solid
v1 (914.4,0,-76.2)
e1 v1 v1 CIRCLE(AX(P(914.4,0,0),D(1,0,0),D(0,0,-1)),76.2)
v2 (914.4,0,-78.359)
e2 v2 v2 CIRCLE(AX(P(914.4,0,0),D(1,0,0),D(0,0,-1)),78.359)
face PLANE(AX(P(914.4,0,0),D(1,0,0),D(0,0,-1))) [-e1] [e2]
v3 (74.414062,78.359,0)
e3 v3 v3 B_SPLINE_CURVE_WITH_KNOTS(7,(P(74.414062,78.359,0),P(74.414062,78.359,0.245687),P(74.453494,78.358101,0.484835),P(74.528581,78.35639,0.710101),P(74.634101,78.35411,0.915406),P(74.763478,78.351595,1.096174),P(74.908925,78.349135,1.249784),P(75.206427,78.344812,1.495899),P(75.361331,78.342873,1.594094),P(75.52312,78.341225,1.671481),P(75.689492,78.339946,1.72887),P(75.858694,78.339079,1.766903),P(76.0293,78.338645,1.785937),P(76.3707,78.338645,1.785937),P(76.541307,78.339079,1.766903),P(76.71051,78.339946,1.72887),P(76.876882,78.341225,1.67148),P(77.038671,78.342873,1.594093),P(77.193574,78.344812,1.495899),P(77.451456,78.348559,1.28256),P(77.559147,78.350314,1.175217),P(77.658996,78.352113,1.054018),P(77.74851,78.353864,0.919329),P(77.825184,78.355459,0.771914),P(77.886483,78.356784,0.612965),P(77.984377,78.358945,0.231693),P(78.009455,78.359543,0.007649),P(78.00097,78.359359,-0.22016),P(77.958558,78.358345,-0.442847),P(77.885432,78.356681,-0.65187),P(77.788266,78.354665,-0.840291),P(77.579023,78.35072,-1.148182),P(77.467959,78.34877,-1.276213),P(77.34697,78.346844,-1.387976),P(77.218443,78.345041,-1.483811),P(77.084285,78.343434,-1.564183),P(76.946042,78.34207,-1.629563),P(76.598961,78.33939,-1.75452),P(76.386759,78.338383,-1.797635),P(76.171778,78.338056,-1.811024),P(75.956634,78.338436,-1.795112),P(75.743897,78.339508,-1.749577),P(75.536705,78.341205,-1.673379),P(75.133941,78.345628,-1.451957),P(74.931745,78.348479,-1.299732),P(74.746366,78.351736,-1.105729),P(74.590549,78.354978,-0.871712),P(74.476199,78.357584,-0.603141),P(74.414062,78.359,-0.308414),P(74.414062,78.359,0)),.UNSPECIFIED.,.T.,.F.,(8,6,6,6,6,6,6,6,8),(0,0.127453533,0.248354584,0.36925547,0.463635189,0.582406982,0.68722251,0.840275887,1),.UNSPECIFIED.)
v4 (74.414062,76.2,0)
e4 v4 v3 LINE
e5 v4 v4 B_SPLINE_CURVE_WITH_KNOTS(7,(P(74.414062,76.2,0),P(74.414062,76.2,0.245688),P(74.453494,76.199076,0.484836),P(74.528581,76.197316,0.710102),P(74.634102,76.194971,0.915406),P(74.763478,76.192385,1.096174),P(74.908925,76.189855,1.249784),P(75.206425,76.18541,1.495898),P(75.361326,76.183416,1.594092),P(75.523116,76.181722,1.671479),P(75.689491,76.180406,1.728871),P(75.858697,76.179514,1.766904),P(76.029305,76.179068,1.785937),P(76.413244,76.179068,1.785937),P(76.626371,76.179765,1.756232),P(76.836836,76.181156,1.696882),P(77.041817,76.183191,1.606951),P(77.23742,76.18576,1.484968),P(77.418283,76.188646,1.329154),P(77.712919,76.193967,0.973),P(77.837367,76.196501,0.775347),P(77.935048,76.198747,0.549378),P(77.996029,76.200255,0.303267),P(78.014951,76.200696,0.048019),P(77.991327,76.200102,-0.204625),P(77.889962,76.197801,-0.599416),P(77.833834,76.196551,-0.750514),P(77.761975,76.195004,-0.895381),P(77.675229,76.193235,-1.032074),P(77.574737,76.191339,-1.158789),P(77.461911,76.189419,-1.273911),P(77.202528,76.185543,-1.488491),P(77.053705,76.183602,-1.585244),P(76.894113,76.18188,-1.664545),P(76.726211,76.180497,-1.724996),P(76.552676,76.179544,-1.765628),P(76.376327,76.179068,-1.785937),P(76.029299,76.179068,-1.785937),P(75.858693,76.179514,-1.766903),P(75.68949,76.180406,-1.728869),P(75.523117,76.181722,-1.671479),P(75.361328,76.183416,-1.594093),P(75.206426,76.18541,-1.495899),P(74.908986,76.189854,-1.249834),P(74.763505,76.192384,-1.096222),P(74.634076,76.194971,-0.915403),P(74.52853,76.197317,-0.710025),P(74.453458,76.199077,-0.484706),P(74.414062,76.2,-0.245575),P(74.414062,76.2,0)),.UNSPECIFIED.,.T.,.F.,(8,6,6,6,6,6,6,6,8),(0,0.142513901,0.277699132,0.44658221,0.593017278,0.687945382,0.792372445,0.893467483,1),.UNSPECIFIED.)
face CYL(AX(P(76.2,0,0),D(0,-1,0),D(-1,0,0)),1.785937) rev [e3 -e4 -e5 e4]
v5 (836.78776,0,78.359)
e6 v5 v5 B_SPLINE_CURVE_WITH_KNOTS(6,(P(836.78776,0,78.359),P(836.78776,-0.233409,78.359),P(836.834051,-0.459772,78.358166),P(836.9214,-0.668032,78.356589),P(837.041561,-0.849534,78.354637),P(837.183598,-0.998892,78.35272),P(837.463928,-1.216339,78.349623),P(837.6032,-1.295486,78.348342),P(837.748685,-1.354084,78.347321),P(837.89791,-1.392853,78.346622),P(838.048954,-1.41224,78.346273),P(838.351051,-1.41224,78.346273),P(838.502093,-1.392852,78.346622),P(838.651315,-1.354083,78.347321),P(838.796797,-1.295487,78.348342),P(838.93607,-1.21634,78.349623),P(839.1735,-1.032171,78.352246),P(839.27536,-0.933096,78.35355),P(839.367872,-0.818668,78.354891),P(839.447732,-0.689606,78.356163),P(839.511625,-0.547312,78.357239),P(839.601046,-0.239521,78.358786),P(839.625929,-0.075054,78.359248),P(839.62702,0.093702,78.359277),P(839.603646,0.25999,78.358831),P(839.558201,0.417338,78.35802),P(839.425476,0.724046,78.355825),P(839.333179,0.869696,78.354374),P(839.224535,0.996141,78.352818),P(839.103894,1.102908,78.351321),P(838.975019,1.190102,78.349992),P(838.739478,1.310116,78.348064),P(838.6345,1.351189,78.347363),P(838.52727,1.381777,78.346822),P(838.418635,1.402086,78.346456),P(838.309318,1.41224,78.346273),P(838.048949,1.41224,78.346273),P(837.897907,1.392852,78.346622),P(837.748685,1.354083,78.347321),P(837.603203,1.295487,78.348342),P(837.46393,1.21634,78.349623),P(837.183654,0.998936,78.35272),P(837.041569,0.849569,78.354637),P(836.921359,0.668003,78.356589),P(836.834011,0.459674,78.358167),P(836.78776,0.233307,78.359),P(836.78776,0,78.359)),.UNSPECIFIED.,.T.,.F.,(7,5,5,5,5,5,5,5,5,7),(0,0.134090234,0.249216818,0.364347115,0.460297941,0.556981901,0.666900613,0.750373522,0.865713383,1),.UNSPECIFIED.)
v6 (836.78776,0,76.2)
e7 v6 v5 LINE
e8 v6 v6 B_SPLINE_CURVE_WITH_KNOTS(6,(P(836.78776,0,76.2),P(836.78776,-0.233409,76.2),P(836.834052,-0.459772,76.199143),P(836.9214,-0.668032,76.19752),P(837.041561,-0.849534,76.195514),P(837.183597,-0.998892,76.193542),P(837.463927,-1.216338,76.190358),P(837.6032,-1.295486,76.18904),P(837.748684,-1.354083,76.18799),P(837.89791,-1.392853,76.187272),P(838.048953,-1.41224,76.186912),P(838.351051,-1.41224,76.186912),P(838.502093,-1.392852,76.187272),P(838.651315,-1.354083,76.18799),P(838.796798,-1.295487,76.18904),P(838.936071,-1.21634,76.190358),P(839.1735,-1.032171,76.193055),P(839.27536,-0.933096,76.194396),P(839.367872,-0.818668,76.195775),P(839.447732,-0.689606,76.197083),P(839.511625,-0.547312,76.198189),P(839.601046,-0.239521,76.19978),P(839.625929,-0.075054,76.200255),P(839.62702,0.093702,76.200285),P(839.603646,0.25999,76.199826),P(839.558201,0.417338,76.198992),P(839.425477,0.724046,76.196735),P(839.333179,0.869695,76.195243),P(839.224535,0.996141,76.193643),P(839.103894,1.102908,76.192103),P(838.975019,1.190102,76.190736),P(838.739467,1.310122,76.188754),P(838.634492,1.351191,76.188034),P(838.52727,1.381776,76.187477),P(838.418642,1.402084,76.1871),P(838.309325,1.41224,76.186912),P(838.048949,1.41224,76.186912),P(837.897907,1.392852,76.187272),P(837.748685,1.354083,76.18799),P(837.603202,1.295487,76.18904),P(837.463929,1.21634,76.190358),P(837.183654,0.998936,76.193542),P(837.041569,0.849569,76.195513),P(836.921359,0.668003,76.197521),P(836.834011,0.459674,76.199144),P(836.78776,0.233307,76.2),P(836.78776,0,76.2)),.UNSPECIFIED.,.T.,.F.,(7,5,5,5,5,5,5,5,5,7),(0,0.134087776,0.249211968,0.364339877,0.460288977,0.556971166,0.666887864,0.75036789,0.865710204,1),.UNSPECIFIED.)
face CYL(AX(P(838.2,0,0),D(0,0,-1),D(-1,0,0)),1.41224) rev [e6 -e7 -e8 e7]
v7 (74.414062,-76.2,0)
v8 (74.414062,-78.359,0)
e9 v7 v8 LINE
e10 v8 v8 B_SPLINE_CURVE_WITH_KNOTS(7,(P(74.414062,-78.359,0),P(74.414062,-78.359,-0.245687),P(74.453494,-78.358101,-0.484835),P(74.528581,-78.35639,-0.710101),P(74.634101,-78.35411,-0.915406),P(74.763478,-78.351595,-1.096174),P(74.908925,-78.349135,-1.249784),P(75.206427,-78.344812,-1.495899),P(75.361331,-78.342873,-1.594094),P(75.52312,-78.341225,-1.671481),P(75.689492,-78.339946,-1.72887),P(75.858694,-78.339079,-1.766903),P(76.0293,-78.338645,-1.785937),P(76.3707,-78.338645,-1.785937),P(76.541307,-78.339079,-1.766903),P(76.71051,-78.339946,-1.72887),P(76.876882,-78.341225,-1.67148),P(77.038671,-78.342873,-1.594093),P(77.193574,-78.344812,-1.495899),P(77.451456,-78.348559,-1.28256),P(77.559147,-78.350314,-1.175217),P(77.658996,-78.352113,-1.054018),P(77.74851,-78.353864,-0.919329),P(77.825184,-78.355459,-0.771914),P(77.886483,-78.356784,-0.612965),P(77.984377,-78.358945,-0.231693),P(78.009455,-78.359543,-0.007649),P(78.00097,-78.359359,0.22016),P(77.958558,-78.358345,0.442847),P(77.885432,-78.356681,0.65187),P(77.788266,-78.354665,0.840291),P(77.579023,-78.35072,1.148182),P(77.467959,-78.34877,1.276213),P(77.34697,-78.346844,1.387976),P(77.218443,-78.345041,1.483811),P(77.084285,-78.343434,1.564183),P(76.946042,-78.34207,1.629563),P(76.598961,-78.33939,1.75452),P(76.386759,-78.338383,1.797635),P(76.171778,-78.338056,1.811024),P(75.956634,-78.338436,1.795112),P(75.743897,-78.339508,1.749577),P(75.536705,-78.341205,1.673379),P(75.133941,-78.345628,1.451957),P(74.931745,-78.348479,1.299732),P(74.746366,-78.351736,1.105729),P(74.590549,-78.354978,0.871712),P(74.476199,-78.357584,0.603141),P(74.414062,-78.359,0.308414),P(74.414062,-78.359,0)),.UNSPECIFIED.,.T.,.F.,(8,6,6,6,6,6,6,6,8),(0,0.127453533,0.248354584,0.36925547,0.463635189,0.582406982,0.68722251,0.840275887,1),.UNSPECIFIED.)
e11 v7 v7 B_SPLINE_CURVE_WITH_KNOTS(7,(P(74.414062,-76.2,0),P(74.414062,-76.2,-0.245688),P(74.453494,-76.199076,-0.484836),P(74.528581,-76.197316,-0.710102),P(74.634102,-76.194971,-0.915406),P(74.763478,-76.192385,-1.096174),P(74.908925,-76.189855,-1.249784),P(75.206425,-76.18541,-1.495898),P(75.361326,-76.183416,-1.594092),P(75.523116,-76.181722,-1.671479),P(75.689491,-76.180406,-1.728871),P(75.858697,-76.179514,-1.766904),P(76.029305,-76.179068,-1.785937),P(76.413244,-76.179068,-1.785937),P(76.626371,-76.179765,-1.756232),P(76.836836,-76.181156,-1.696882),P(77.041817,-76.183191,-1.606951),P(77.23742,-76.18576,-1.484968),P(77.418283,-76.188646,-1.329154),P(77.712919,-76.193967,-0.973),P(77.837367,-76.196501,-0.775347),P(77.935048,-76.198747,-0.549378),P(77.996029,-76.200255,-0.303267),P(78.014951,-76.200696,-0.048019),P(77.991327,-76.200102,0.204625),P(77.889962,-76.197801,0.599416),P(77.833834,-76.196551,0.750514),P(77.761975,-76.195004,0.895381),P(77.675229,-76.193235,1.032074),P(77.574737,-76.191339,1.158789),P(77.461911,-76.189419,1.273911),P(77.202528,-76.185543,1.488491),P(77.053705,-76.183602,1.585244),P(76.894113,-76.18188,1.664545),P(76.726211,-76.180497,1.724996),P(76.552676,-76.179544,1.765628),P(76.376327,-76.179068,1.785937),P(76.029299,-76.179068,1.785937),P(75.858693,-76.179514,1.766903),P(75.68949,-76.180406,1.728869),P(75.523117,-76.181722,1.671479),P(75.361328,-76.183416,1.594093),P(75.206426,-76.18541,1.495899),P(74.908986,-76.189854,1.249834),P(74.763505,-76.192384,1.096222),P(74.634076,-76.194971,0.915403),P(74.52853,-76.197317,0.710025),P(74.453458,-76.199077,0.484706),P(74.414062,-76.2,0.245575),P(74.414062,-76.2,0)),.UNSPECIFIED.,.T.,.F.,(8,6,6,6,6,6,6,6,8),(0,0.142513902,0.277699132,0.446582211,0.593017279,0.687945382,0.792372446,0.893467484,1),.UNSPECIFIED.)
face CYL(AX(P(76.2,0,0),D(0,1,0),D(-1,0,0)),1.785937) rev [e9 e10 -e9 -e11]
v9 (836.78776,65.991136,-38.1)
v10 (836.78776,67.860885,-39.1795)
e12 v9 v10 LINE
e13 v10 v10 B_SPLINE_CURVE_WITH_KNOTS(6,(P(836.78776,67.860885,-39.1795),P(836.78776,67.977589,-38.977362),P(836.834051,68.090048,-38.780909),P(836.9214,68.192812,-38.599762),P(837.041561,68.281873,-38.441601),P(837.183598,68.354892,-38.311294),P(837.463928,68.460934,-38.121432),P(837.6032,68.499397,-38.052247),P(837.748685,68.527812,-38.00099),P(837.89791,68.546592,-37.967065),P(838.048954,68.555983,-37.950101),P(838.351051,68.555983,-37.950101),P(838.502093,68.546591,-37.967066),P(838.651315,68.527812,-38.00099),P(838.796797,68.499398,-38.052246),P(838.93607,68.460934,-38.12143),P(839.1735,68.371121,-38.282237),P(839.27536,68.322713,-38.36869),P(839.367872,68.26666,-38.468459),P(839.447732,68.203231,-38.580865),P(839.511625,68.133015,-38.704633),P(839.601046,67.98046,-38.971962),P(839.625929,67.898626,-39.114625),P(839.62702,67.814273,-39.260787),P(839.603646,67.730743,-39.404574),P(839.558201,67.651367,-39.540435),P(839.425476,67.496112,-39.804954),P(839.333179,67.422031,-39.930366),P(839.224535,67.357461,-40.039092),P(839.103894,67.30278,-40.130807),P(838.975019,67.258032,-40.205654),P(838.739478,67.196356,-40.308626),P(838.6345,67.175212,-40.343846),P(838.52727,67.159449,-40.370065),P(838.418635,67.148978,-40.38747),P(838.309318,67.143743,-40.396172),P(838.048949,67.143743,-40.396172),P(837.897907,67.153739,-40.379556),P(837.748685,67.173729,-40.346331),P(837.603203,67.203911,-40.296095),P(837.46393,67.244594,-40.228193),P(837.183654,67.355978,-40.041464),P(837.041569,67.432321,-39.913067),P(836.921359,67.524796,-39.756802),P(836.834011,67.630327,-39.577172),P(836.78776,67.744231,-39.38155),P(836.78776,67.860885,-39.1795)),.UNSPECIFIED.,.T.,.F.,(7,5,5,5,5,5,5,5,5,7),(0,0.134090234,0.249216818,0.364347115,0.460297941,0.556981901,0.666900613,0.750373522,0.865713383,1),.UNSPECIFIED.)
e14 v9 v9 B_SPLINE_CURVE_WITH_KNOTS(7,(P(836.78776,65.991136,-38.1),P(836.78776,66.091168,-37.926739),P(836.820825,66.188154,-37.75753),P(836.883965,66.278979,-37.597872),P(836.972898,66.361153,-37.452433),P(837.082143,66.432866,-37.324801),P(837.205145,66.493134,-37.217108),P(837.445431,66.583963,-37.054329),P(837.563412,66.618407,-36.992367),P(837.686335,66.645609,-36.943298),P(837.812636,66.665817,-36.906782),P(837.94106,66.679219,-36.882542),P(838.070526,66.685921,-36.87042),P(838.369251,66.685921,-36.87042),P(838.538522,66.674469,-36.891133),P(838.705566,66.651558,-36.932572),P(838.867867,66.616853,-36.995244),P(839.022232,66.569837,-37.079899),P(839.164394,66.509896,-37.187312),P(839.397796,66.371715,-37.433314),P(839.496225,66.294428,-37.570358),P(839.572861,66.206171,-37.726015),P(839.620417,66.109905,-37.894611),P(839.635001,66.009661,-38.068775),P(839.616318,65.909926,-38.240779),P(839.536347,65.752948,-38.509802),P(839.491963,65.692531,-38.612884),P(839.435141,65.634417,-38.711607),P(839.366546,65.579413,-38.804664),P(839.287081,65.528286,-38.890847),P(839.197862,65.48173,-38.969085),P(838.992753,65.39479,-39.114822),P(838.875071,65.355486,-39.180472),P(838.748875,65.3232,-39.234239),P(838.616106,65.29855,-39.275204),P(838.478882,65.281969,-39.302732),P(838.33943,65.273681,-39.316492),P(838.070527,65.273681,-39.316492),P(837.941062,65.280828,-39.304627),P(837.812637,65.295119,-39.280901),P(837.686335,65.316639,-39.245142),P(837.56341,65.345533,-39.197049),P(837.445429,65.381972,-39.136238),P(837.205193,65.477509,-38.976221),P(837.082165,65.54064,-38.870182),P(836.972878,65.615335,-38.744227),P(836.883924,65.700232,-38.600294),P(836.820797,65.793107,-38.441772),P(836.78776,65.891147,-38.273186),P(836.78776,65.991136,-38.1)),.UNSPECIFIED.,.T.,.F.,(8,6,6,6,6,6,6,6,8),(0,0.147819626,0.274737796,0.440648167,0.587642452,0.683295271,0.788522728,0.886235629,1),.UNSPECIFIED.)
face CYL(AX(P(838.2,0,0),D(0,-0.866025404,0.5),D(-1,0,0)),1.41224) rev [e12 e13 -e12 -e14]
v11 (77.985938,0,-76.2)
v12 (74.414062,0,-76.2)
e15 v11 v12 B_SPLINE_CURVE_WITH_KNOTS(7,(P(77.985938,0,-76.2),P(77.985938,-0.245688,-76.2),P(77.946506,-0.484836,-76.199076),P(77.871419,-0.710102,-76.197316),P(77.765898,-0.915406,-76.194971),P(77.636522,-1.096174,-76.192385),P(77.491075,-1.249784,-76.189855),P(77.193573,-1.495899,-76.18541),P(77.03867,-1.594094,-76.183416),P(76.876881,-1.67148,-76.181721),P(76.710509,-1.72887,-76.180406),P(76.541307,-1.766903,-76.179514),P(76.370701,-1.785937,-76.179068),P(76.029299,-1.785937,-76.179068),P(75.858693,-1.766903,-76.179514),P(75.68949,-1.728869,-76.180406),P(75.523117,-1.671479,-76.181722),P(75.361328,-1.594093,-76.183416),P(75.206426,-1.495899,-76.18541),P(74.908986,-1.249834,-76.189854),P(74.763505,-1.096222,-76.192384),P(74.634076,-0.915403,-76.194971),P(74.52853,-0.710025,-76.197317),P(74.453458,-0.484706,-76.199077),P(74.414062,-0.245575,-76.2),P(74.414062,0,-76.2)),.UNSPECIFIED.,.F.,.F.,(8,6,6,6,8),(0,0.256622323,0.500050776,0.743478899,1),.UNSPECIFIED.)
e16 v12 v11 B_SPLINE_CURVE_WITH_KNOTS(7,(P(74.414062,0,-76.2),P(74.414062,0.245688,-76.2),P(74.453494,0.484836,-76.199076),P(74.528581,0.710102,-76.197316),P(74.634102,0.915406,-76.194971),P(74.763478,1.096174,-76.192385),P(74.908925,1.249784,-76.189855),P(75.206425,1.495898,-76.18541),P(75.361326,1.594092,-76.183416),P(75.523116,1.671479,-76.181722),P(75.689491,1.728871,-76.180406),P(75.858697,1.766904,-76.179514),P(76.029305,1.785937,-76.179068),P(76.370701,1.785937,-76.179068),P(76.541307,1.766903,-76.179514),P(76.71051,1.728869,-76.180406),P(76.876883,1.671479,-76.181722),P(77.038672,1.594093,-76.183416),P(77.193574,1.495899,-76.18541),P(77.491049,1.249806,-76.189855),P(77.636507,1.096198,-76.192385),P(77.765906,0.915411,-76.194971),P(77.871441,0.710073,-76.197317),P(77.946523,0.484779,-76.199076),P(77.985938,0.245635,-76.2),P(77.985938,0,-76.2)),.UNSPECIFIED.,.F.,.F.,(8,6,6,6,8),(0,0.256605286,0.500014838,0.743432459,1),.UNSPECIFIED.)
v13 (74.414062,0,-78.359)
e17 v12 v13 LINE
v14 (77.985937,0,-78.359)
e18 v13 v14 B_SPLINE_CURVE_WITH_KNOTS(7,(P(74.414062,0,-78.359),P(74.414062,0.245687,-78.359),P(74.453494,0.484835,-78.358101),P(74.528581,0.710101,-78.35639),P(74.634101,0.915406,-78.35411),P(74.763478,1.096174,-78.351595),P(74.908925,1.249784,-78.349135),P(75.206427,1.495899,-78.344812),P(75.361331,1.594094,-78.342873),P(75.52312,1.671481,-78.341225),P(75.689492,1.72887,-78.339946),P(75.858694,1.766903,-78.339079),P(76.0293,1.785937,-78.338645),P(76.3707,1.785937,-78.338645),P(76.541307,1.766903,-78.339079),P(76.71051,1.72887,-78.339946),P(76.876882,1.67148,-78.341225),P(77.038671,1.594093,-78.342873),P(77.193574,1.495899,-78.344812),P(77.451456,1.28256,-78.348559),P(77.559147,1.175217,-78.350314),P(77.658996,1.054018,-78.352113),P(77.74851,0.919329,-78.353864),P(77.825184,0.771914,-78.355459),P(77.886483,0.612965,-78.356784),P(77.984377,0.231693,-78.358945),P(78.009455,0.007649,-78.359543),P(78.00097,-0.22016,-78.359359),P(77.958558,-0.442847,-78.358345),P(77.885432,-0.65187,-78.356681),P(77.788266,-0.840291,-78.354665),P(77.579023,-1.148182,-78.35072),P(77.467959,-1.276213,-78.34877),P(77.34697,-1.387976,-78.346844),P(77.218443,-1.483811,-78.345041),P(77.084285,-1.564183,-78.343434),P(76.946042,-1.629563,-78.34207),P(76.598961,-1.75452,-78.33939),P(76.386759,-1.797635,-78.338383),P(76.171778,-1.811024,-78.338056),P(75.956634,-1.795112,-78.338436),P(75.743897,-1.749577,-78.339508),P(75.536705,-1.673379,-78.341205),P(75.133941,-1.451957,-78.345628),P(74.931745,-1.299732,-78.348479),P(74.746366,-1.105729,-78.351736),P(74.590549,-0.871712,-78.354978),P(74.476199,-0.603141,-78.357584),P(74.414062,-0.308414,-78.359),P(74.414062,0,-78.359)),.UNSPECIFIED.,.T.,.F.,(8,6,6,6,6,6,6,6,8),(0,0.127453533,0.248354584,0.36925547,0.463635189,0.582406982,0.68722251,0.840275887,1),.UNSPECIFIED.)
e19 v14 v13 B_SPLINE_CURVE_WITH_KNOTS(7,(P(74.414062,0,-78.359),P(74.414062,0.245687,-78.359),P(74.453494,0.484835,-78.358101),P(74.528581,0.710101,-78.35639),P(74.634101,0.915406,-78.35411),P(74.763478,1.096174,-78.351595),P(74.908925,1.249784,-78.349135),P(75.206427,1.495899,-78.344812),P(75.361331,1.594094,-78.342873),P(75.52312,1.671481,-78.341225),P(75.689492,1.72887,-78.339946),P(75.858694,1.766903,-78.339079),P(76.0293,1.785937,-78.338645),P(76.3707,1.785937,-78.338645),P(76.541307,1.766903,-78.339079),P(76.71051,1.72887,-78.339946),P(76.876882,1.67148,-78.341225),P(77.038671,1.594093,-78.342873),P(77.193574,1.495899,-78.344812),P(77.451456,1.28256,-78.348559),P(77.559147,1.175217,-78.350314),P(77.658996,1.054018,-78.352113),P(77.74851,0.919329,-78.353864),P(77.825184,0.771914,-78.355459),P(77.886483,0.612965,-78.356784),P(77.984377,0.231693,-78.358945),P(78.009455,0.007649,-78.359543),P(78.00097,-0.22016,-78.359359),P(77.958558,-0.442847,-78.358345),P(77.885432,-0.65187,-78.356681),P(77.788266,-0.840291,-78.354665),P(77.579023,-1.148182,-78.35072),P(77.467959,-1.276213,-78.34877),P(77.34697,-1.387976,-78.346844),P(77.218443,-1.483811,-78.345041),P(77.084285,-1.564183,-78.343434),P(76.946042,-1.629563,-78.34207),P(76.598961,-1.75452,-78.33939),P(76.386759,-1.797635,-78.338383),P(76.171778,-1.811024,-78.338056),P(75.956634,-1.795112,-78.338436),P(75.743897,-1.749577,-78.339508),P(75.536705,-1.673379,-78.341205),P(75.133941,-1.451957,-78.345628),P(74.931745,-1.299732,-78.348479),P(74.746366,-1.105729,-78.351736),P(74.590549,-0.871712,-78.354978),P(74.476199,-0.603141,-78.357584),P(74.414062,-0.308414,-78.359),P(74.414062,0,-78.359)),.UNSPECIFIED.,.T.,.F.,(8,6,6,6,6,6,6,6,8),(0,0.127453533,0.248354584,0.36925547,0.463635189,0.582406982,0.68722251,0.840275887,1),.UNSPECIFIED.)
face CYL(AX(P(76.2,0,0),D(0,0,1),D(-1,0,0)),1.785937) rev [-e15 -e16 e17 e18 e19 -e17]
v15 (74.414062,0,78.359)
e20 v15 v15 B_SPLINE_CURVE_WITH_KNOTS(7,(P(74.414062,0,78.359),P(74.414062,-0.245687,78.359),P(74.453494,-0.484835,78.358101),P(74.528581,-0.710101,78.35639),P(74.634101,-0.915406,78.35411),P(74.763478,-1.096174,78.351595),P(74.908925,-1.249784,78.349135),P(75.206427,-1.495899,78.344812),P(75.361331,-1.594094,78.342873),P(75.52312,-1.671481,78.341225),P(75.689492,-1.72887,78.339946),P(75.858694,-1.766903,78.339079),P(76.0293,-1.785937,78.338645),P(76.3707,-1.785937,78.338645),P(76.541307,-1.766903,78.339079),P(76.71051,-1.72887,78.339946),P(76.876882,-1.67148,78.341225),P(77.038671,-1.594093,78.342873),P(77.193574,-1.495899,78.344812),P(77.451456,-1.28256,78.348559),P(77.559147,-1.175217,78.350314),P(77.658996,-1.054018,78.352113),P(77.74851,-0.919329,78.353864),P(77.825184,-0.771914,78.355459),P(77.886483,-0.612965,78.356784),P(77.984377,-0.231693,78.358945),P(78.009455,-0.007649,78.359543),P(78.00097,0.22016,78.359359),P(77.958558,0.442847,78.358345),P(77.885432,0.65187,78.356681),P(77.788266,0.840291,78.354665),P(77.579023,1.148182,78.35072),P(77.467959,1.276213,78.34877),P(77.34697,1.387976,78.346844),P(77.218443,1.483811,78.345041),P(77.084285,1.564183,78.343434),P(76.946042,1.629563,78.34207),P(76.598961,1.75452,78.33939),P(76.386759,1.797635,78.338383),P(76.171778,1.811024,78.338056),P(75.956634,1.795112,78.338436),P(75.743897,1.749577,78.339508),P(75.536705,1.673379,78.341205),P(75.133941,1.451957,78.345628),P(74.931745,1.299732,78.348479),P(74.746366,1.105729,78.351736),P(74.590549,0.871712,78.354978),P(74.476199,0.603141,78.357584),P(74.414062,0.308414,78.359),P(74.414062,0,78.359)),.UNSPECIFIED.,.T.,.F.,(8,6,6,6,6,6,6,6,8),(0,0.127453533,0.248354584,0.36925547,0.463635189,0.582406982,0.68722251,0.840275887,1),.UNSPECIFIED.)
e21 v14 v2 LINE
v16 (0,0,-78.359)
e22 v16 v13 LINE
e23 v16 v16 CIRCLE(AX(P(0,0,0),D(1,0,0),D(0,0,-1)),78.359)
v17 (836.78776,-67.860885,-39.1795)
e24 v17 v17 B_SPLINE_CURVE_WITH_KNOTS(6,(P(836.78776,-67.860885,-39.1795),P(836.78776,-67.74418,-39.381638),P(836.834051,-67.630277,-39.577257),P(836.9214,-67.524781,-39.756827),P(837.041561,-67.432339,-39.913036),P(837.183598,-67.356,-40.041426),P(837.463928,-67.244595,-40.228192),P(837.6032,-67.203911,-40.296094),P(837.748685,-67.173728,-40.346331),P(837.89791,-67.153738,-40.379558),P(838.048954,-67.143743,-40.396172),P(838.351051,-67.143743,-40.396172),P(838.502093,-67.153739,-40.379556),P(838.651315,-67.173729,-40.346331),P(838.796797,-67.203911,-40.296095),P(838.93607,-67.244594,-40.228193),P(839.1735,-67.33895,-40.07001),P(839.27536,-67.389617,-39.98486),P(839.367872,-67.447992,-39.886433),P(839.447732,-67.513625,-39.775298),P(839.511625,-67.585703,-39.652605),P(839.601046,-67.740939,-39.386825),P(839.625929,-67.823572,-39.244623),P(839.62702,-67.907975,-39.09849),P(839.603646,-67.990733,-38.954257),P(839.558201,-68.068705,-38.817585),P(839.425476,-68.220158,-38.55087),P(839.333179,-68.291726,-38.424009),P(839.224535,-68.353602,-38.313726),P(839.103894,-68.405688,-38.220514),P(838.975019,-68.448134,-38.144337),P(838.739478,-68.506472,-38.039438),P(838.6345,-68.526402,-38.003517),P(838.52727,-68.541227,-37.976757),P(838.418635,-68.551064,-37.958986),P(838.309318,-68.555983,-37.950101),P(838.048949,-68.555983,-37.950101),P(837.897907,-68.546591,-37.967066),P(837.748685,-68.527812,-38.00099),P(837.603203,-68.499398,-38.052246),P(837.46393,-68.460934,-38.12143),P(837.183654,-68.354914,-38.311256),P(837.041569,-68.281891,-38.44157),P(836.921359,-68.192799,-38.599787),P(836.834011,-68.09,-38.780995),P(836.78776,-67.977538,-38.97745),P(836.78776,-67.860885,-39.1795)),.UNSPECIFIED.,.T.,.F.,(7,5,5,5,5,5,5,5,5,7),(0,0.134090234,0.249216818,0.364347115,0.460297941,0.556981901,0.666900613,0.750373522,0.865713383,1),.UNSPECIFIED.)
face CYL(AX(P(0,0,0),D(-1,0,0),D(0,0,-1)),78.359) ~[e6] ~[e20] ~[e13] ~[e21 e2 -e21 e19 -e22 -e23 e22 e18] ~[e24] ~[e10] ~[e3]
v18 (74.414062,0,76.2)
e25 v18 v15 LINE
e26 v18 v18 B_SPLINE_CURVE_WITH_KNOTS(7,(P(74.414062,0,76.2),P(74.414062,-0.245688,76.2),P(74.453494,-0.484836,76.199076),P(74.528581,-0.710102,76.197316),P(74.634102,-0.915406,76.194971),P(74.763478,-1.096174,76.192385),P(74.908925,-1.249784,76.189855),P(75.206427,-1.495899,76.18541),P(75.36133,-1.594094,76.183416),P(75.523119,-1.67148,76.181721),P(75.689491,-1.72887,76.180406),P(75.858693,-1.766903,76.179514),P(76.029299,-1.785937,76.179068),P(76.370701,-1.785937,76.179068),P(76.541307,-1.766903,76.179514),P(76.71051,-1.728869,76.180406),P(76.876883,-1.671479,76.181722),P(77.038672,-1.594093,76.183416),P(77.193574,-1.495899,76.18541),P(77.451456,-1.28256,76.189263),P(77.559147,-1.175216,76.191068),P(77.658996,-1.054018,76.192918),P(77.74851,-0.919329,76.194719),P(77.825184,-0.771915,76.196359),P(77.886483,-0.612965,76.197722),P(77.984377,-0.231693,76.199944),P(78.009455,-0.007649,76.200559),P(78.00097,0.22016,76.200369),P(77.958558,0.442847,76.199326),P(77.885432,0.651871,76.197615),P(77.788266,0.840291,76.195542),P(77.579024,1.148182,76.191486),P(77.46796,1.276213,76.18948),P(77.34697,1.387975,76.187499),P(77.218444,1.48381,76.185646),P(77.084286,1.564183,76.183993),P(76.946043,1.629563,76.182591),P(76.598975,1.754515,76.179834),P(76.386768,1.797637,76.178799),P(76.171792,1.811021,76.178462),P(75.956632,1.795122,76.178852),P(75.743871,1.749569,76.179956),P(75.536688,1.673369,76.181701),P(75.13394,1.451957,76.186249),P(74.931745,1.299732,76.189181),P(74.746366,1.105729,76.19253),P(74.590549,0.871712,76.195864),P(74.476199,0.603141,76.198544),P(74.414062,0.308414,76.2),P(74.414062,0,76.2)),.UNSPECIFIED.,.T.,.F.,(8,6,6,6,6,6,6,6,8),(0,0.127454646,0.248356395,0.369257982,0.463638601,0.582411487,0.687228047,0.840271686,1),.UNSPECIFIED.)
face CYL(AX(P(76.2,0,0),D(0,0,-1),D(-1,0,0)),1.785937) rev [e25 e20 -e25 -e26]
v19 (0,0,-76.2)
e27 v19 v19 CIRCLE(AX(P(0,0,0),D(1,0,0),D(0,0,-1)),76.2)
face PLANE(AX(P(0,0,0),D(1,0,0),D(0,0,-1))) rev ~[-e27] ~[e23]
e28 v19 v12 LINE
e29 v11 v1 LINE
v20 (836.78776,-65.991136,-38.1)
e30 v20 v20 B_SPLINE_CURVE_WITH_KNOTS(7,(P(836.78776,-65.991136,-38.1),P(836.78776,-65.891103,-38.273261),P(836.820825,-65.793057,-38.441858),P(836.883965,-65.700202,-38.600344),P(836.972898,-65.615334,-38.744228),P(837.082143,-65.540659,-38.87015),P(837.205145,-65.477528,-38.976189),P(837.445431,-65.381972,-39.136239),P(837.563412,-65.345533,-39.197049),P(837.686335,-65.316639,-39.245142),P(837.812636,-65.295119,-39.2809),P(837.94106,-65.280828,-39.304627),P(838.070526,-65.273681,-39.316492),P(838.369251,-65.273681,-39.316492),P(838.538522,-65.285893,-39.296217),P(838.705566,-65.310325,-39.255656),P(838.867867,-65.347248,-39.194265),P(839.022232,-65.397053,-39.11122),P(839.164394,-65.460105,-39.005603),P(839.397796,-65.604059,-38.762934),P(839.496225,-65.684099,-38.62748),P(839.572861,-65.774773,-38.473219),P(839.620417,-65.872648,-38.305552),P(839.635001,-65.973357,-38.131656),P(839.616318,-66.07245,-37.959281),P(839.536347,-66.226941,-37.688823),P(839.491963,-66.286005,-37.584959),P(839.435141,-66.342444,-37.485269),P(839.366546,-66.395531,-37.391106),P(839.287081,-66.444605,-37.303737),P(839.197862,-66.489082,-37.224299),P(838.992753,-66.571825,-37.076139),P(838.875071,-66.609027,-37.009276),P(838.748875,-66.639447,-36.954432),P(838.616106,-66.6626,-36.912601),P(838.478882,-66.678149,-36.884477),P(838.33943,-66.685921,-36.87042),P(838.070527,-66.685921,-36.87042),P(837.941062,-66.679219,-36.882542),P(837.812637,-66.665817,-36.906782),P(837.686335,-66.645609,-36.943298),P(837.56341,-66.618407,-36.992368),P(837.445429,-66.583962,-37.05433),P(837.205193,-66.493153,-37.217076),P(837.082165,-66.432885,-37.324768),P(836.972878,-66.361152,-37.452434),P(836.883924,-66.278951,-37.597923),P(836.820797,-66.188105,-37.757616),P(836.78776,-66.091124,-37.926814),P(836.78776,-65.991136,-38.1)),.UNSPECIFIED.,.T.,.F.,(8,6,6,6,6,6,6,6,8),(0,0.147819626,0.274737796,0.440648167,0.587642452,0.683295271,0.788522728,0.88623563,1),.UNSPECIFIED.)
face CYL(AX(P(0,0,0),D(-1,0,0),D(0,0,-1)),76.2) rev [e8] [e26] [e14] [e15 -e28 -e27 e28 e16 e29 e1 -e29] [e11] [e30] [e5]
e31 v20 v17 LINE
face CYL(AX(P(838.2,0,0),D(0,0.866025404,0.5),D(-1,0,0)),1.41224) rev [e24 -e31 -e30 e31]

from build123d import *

# Parameters (mm, degrees)
SKETCH3_R               = 78.359
SKETCH3_R_2             = 76.2
BOSS_EXTRUDE1_DEPTH     = 914.4
CUT_EXTRUDE1_REACH      = 923.09
CUT_EXTRUDE1_END_RADIUS = 78.359
SKETCH4_R               = 1.41224
CIRPATTERN1_COUNT       = 3
CUT_EXTRUDE2_REACH      = 923.09
CUT_EXTRUDE2_END_RADIUS = 78.359
SKETCH5_R               = 1.7859375
CIRPATTERN2_COUNT       = 4


with BuildPart() as part:
    # Sketch3 → Boss-Extrude1 (new body)
    with BuildSketch(Plane(origin=(0, 0, 0), x_dir=(0, 0, -1), z_dir=(1, 0, 0))):
        Circle(SKETCH3_R)
        Circle(SKETCH3_R_2, mode=Mode.SUBTRACT)
    extrude(amount=BOSS_EXTRUDE1_DEPTH)

    # Cut-Extrude1: up to this cylinder (the profile starts inside it)
    cut_extrude1_end = Plane(origin=(838.2, 0, 0), z_dir=(-1, 0, 0)) * Cylinder(CUT_EXTRUDE1_END_RADIUS, 2003.898, mode=Mode.PRIVATE)
    # Sketch4 → Cut-Extrude1 (cut, up to the surface)
    with BuildSketch(Plane.XY, mode=Mode.PRIVATE) as cut_extrude1_sk1:
        with Locations(Location((838.2, 0, 0), (0, 0, 180))):
            Circle(SKETCH4_R)
    cut_extrude1_tool1 = extrude(cut_extrude1_sk1.sketch, amount=CUT_EXTRUDE1_REACH, mode=Mode.PRIVATE) & cut_extrude1_end
    cut_extrude1 = cut_extrude1_tool1.solids().sort_by_distance((838.2, 0, 0))[0]
    add(cut_extrude1, mode=Mode.SUBTRACT)

    # CirPattern1: Cut-Extrude1 ×3 about axis
    cirpattern1_axis = Axis((914.4, 0, 0), (1, 0, 0))
    for i in range(1, CIRPATTERN1_COUNT):
        add(cut_extrude1.rotate(cirpattern1_axis, i * 360 / CIRPATTERN1_COUNT), mode=Mode.SUBTRACT)

    # Cut-Extrude2: up to this cylinder (the profile starts inside it)
    cut_extrude2_end = Plane(origin=(76.2, 0, 0), z_dir=(-1, 0, 0)) * Cylinder(CUT_EXTRUDE2_END_RADIUS, 2003.898, mode=Mode.PRIVATE)
    # Sketch5 → Cut-Extrude2 (cut, up to the surface)
    with BuildSketch(Plane.XY, mode=Mode.PRIVATE) as cut_extrude2_sk1:
        with Locations(Location((76.2, 0, 0), (0, 0, 180))):
            Circle(SKETCH5_R)
    cut_extrude2_tool1 = extrude(cut_extrude2_sk1.sketch, amount=CUT_EXTRUDE2_REACH, mode=Mode.PRIVATE) & cut_extrude2_end
    cut_extrude2 = cut_extrude2_tool1.solids().sort_by_distance((76.2, 0, 0))[0]
    add(cut_extrude2, mode=Mode.SUBTRACT)

    # CirPattern2: Cut-Extrude2 ×4 about axis
    cirpattern2_axis = Axis((0, 0, 0), (1, 0, 0))
    for i in range(1, CIRPATTERN2_COUNT):
        add(cut_extrude2.rotate(cirpattern2_axis, i * 360 / CIRPATTERN2_COUNT), mode=Mode.SUBTRACT)


solid = part.part
